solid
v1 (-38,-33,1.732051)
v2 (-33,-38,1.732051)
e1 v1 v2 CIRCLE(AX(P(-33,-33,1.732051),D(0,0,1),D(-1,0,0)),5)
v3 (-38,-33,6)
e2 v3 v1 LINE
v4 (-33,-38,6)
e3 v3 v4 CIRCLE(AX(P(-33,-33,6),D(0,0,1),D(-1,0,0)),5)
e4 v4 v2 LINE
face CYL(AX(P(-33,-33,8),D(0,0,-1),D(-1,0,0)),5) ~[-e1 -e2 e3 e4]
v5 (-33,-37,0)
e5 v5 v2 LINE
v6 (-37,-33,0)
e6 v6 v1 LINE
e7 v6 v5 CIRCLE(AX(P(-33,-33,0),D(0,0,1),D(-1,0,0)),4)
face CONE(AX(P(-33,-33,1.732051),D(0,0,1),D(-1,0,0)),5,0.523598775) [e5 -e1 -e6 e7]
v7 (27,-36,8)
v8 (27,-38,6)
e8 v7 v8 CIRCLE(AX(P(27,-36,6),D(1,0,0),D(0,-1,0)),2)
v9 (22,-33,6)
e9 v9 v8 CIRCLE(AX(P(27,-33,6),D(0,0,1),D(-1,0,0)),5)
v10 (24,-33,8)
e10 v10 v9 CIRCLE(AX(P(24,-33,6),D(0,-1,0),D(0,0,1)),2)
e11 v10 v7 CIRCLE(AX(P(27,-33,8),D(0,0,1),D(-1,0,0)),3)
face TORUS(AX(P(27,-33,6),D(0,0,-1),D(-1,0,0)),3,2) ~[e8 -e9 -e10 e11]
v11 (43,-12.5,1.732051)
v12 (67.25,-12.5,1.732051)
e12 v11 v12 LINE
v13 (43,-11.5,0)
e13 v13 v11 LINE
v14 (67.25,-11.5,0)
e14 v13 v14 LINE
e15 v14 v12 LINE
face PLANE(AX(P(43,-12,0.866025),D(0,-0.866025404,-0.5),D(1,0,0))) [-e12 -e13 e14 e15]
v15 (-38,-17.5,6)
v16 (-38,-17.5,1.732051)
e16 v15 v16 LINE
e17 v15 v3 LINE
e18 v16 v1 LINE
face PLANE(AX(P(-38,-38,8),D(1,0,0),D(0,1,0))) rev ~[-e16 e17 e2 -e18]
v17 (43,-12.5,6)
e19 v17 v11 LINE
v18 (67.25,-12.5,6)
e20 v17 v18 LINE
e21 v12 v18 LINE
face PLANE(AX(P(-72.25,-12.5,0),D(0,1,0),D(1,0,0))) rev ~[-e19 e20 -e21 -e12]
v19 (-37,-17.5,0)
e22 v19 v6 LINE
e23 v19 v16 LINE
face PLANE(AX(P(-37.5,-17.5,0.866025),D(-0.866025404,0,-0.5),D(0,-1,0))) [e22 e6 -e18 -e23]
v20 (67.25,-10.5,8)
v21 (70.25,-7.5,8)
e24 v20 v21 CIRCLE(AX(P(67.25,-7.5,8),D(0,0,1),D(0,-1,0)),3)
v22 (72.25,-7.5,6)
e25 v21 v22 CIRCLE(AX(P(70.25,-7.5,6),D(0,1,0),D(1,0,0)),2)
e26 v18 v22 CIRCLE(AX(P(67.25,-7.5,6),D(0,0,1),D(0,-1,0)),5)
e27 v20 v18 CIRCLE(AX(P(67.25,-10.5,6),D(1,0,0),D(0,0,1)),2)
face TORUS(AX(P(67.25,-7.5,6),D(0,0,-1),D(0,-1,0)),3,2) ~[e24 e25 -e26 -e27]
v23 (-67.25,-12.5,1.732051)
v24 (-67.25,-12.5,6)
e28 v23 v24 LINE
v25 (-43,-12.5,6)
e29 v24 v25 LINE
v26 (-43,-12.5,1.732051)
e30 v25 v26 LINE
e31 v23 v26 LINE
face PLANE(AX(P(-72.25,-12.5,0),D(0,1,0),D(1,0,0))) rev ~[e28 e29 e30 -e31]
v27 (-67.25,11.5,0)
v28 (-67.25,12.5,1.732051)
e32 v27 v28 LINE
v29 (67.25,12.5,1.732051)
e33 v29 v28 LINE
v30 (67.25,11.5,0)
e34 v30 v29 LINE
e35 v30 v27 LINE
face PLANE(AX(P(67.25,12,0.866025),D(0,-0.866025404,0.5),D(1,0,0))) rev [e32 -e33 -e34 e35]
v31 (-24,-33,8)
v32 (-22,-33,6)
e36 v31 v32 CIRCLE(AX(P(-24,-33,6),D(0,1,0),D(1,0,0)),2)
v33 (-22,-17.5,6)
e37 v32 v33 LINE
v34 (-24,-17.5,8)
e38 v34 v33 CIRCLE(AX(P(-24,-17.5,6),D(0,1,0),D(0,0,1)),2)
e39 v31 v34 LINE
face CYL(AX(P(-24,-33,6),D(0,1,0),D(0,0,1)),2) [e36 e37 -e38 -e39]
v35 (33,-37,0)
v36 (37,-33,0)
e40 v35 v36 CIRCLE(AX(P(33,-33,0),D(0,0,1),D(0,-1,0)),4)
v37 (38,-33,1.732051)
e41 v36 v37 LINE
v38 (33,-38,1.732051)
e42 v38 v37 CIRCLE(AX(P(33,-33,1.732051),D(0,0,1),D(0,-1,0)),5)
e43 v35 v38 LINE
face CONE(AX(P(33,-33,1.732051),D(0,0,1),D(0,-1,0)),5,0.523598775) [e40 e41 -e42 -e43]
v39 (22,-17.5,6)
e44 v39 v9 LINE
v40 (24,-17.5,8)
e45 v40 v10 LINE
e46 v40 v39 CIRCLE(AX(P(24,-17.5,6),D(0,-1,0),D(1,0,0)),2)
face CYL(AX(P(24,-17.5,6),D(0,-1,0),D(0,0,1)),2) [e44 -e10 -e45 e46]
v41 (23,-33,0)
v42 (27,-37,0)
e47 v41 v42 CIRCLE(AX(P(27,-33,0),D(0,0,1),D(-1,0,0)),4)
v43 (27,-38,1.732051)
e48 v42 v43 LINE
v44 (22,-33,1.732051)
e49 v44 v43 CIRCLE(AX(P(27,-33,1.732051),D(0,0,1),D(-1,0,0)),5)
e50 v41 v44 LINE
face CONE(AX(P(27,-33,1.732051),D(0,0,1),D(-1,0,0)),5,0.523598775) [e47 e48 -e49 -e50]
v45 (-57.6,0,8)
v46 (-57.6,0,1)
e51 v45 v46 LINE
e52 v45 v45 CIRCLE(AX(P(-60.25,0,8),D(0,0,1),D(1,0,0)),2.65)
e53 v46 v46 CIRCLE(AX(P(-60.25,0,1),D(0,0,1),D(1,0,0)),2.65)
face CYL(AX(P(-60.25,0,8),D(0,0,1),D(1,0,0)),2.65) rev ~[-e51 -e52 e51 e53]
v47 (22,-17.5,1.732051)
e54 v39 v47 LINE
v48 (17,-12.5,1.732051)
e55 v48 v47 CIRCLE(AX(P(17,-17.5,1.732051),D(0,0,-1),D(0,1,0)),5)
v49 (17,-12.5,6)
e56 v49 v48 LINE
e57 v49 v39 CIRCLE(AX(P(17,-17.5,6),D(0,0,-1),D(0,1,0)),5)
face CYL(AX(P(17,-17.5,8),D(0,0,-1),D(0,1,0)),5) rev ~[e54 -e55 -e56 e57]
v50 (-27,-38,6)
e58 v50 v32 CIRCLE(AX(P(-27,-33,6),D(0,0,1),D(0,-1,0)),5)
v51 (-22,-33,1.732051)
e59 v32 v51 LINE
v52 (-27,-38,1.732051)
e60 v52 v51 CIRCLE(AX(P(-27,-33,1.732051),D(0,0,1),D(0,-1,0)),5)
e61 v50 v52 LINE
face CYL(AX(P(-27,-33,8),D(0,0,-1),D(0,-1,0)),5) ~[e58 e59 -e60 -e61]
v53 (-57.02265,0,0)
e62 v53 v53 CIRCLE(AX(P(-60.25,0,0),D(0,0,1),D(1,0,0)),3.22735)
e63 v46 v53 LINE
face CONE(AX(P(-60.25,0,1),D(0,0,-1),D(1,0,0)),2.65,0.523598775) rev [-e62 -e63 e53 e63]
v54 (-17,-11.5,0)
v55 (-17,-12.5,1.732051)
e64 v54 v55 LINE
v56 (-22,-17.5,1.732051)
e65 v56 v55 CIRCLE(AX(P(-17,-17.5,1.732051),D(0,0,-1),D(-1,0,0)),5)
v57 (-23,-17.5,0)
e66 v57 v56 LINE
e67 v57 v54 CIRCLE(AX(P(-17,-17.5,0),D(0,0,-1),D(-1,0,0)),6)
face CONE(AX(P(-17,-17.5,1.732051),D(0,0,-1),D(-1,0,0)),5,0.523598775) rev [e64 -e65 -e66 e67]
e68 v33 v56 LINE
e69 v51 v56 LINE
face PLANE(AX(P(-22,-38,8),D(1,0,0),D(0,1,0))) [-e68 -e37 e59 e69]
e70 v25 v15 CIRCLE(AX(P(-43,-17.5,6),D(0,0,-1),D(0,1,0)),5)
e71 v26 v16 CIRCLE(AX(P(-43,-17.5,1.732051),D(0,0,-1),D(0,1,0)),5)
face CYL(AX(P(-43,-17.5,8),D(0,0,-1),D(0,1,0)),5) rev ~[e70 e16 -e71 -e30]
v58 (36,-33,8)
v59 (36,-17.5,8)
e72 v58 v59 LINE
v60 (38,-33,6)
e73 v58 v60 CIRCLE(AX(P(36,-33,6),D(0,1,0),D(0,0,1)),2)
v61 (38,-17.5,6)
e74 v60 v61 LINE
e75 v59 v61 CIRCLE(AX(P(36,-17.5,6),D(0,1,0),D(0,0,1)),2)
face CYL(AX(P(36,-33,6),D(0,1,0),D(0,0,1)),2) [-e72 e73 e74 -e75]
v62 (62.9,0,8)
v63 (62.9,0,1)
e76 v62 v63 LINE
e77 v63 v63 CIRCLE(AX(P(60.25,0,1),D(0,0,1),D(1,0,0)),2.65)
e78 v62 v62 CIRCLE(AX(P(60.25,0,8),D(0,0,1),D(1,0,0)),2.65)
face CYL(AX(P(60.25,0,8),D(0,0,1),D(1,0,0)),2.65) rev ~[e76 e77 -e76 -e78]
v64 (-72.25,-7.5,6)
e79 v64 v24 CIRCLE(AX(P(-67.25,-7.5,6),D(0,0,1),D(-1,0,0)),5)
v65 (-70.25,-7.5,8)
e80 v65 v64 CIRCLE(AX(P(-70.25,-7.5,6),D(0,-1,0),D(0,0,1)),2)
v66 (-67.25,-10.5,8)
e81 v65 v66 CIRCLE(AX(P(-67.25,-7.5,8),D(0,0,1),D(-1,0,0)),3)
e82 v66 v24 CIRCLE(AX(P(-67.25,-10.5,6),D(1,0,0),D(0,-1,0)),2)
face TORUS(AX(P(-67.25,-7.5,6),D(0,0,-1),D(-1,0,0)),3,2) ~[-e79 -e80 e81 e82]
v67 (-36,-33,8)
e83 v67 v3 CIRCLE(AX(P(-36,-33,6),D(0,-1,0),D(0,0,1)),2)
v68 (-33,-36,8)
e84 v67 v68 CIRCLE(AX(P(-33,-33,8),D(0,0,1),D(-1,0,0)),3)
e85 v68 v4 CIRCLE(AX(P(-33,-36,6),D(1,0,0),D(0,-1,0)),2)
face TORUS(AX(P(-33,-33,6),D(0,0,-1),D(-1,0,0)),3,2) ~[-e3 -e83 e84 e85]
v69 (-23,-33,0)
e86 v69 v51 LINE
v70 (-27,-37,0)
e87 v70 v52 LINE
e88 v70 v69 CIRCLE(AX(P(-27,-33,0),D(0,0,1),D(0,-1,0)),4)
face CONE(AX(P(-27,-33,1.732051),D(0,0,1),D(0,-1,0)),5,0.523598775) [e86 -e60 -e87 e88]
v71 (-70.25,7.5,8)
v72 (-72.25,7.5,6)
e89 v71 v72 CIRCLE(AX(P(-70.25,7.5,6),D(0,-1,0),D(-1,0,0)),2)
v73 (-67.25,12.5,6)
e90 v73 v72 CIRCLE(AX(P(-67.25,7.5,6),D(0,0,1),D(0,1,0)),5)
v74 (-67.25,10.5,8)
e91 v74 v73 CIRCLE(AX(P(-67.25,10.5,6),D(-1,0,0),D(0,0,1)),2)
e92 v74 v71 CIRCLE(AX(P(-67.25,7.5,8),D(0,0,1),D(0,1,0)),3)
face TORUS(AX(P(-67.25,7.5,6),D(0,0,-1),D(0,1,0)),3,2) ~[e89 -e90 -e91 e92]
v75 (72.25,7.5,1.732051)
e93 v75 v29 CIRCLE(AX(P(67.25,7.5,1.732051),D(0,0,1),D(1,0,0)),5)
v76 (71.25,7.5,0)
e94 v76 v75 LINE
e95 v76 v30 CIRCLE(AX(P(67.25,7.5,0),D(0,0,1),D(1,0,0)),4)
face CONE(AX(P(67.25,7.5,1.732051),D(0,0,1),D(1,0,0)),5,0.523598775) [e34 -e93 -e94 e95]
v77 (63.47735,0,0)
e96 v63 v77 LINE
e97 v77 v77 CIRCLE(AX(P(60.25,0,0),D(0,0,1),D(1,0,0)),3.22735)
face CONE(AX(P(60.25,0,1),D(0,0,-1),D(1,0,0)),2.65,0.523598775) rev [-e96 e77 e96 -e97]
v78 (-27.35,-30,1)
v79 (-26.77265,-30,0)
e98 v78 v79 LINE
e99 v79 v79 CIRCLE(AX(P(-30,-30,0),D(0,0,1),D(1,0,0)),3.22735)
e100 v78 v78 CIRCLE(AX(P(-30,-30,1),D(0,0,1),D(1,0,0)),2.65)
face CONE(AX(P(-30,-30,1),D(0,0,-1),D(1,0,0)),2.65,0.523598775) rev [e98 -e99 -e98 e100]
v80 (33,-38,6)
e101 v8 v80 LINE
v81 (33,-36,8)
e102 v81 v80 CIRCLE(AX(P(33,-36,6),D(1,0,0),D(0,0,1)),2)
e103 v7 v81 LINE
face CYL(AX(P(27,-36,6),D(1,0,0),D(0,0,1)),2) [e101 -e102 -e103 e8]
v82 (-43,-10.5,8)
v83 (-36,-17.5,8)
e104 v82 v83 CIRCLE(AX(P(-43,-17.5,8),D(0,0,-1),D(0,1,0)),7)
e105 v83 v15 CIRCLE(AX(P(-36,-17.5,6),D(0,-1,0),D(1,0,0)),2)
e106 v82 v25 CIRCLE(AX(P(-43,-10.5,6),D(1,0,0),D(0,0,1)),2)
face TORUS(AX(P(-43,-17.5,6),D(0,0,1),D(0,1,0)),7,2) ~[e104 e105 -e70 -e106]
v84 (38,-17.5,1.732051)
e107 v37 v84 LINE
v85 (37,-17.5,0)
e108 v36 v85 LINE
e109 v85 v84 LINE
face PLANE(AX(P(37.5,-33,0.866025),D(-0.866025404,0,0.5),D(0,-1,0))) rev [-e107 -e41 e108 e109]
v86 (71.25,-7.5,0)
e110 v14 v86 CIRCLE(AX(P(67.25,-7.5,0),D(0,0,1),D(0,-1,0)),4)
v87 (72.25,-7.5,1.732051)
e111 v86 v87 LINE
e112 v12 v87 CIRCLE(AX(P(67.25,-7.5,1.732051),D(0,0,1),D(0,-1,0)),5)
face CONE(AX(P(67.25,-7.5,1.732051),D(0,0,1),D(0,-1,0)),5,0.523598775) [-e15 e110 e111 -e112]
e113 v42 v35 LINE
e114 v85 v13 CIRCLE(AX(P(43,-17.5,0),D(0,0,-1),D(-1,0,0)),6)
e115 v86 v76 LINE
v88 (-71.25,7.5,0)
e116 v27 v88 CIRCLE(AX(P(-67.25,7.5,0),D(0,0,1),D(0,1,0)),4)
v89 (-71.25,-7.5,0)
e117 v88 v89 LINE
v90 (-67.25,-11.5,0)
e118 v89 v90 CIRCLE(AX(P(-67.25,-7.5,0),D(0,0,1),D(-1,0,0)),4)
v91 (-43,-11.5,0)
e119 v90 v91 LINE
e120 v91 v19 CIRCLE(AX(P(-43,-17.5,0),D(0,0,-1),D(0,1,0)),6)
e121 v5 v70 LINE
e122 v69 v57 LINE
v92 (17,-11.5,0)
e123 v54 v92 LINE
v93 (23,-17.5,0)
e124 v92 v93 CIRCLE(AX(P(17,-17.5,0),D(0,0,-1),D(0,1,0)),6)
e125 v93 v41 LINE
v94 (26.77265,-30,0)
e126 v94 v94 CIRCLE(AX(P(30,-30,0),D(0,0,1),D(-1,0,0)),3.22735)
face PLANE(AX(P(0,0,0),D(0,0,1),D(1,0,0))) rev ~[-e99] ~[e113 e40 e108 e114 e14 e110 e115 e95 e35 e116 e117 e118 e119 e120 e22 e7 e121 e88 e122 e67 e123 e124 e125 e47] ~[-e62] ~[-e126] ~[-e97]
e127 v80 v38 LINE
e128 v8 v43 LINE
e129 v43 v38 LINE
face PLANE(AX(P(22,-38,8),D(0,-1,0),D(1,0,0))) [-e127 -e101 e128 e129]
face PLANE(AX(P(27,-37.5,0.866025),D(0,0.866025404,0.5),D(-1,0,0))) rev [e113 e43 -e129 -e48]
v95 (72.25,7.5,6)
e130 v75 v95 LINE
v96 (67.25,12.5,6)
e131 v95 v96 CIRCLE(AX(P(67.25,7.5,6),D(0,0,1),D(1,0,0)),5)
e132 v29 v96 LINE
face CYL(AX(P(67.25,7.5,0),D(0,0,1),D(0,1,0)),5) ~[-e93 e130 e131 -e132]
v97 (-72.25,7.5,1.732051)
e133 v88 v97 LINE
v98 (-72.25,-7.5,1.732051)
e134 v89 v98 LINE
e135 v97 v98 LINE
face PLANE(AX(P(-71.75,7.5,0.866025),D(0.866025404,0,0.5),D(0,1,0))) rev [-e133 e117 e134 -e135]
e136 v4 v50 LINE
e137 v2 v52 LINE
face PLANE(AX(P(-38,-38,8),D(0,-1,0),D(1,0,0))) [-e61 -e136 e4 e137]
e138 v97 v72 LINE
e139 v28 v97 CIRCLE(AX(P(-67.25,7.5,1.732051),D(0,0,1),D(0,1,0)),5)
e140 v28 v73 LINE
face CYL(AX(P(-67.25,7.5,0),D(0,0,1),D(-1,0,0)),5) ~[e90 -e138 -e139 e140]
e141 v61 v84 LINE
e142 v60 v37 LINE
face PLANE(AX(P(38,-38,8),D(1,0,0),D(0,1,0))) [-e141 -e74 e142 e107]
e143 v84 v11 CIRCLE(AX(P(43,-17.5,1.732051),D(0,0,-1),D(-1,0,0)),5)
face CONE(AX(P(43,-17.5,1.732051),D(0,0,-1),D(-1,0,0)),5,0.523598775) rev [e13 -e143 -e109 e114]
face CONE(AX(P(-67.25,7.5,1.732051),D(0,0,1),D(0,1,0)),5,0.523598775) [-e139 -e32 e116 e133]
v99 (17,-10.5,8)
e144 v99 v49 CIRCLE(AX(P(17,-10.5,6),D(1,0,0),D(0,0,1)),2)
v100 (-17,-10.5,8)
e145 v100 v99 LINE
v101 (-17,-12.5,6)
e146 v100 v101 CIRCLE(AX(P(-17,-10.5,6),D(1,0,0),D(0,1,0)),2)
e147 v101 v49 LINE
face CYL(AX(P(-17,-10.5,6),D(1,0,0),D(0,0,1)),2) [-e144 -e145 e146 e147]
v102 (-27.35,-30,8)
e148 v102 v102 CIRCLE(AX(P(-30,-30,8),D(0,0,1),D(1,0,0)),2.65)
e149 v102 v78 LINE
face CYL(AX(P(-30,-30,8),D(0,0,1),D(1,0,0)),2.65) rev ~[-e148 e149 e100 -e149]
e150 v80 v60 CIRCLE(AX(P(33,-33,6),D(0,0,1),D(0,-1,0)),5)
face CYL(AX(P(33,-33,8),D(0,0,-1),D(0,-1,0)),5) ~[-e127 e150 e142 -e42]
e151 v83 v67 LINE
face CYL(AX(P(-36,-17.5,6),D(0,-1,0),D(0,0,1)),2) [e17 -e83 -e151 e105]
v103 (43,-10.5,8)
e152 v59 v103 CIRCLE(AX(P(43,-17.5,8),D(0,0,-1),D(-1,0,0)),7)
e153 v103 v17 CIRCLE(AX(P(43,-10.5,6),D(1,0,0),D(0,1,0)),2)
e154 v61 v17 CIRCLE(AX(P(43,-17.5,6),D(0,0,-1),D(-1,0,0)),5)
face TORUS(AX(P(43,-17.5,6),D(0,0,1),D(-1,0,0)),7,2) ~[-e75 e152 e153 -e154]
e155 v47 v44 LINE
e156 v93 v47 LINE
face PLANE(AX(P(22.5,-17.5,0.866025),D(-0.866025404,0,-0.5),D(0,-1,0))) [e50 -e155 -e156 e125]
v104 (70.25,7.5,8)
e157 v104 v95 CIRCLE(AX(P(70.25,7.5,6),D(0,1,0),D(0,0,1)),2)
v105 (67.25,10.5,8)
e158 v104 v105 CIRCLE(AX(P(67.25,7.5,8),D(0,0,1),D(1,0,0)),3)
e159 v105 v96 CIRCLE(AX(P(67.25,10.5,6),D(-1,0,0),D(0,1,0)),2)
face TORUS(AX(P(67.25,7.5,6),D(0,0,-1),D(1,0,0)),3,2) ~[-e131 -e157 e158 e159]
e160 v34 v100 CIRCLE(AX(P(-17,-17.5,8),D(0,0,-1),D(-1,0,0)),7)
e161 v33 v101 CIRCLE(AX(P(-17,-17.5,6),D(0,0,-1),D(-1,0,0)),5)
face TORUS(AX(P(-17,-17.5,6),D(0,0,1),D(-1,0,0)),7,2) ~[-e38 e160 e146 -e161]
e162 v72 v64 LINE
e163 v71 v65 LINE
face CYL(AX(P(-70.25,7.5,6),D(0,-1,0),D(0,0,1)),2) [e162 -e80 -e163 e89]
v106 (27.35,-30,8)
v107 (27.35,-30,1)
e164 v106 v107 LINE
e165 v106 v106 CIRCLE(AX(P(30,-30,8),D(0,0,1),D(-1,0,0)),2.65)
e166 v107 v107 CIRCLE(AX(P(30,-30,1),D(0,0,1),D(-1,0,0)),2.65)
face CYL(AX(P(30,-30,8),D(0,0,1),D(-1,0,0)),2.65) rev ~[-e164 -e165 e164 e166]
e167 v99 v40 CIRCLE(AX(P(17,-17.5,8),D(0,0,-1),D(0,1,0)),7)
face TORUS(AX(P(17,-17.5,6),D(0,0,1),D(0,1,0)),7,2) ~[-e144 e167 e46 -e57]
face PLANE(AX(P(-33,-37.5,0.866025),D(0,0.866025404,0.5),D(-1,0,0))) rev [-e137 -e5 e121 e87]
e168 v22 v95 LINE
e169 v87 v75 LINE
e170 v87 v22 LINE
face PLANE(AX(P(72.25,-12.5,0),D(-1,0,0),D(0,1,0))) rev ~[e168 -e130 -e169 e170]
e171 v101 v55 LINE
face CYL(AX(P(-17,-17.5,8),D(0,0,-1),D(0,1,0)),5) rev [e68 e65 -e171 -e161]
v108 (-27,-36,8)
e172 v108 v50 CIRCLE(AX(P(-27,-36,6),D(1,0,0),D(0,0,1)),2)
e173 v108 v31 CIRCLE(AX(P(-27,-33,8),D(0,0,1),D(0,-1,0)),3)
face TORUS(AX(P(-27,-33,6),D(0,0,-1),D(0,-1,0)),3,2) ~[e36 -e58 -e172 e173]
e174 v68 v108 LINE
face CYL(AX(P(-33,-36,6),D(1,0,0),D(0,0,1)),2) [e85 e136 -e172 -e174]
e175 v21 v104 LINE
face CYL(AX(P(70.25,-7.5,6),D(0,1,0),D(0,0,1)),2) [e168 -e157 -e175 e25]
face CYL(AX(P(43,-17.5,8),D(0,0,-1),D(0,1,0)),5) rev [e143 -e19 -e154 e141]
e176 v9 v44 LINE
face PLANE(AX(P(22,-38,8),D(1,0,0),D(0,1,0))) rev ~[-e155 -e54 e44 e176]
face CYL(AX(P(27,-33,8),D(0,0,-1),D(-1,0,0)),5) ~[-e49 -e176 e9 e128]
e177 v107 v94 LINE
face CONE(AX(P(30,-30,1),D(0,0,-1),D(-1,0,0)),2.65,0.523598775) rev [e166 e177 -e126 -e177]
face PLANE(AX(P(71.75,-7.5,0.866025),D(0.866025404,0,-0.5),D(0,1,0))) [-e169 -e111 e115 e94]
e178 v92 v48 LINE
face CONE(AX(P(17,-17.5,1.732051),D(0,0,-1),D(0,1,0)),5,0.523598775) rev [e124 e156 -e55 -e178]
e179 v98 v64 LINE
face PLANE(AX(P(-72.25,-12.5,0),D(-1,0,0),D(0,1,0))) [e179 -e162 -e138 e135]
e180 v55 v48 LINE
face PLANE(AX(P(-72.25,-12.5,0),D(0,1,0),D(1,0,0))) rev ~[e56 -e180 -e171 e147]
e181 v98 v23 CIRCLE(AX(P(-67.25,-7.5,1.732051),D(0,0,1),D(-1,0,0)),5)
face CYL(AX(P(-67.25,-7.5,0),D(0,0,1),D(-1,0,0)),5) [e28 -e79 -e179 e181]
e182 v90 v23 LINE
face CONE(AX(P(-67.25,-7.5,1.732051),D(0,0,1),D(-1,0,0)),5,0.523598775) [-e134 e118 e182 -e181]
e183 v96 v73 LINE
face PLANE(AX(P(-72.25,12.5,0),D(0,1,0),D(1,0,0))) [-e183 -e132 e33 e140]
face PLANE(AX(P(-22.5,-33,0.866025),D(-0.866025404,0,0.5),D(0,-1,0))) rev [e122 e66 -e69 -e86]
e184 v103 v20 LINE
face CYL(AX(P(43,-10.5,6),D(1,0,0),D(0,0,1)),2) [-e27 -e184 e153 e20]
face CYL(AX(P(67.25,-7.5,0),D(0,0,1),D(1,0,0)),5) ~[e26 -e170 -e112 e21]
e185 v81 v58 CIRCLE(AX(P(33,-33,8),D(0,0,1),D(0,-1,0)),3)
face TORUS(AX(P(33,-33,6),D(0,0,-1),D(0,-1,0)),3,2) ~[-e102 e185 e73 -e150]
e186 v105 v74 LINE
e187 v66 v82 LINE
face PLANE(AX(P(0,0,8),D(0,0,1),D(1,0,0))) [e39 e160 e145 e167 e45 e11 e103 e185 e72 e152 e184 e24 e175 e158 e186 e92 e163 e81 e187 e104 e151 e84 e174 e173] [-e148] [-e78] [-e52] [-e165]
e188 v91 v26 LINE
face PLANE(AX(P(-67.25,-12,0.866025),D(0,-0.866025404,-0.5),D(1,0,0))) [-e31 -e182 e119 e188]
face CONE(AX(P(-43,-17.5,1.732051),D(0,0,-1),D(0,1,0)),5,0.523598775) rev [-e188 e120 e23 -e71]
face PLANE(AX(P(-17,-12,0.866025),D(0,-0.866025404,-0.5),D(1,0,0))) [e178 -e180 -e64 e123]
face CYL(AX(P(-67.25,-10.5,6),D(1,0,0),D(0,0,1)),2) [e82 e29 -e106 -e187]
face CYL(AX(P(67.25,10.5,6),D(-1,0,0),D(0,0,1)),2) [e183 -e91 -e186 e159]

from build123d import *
from OCP.BRepFilletAPI import BRepFilletAPI_MakeChamfer

# Parameters (mm, degrees)
SKETCH2_W           = 144.5
SKETCH2_H           = 25
BOSS_EXTRUDE1_DEPTH = 8
SKETCH3_R           = 2.65
CUT_EXTRUDE1_DEPTH  = 74.758474089
SKETCH5_W           = 16
SKETCH5_H           = 25.5
SKETCH5_R           = 2.65
BOSS_EXTRUDE2_DEPTH = 8
FILLET1_R           = 5
FILLET2_R           = 2
CHAMFER1_SIZE       = 1
CHAMFER1_SIZE2      = 1.732050808
CHAMFER2_SIZE       = 1
CHAMFER2_SIZE2      = 0.577350269


with BuildPart() as part:
    # Sketch2 → Boss-Extrude1 (new body)
    with BuildSketch(Plane.XY):
        Rectangle(SKETCH2_W, SKETCH2_H)
    extrude(amount=BOSS_EXTRUDE1_DEPTH)

    # Sketch3 → Cut-Extrude1 (cut, through all)
    with BuildSketch(Plane.XY.offset(8)):
        with Locations((-60.25, 0)):
            Circle(SKETCH3_R)
        with Locations((60.25, 0)):
            Circle(SKETCH3_R)
    extrude(amount=-CUT_EXTRUDE1_DEPTH, mode=Mode.SUBTRACT)

    # Sketch5 → Boss-Extrude2 (add)
    # profile 1 of 2: a face of its own
    with BuildSketch(Plane.XY.offset(8)):
        with Locations((-30, -25.25)):
            Rectangle(SKETCH5_W, SKETCH5_H)
        with Locations((-30, -30)):
            Circle(SKETCH5_R, mode=Mode.SUBTRACT)
    # profile 2 of 2: a face of its own
    with BuildSketch(Plane.XY.offset(8)):
        with Locations((30, -25.25)):
            Rectangle(SKETCH5_W, SKETCH5_H)
        with Locations(Location((30, -30, 0), (0, 0, 180))):
            Circle(SKETCH5_R, mode=Mode.SUBTRACT)
    extrude(amount=-BOSS_EXTRUDE2_DEPTH)

    # Fillet1
    fillet1_edges = [part.edges().sort_by_distance(p)[0] for p in [
        (-38, -38, 4),
        (-38, -12.5, 4),
        (-22, -12.5, 4),
        (-22, -38, 4),
        (38, -12.5, 4),
        (38, -38, 4),
        (22, -38, 4),
        (22, -12.5, 4),
        (72.25, -12.5, 4),
        (-72.25, -12.5, 4),
        (-72.25, 12.5, 4),
        (72.25, 12.5, 4),
    ]]
    fillet(fillet1_edges, radius=FILLET1_R)

    # Fillet2
    fillet2_edges = [part.edges().sort_by_distance(p)[0] for p in [
        (38, -25.25, 8),
        (55.125, -12.5, 8),
        (30, -38, 8),
        (72.25, 0, 8),
        (0, 12.5, 8),
        (-72.25, 0, 8),
        (-55.125, -12.5, 8),
        (-38, -25.25, 8),
        (-30, -38, 8),
        (-22, -25.25, 8),
        (0, -12.5, 8),
        (22, -25.25, 8),
        (70.785533906, 11.035533906, 8),
        (70.785533906, -11.035533906, 8),
        (-70.785533906, 11.035533906, 8),
        (-70.785533906, -11.035533906, 8),
        (-23.464466094, -36.535533906, 8),
        (-36.535533906, -36.535533906, 8),
        (23.464466094, -36.535533906, 8),
        (36.535533906, -36.535533906, 8),
        (39.464466094, -13.964466094, 8),
        (20.535533906, -13.964466094, 8),
        (-39.464466094, -13.964466094, 8),
        (-20.535533906, -13.964466094, 8),
    ]]
    fillet(fillet2_edges, radius=FILLET2_R)

    # Chamfer1
    chamfer1_edges = [part.edges().sort_by_distance(p)[0] for p in [
        (38, -25.25, 0),
        (55.125, -12.5, 0),
        (30, -38, 0),
        (72.25, 0, 0),
        (22, -25.25, 0),
        (0, -12.5, 0),
        (-22, -25.25, 0),
        (-30, -38, 0),
        (-38, -25.25, 0),
        (-55.125, -12.5, 0),
        (-72.25, 0, 0),
        (0, 12.5, 0),
        (70.785533906, 11.035533906, 0),
        (70.785533906, -11.035533906, 0),
        (-70.785533906, 11.035533906, 0),
        (-70.785533906, -11.035533906, 0),
        (-23.464466094, -36.535533906, 0),
        (-36.535533906, -36.535533906, 0),
        (23.464466094, -36.535533906, 0),
        (36.535533906, -36.535533906, 0),
        (39.464466094, -13.964466094, 0),
        (20.535533906, -13.964466094, 0),
        (-39.464466094, -13.964466094, 0),
        (-20.535533906, -13.964466094, 0),
    ]]
    chamfer1_side = [part.faces().sort_by_distance(p)[0] for p in [
        (0, -4.348667021, 0),
    ]]
    chamfer(chamfer1_edges, length=CHAMFER1_SIZE, length2=CHAMFER1_SIZE2, reference=chamfer1_side[0])

    # Chamfer2: one chamfer whose edges measure the first distance from different faces: ONE call of the kernel's chamfer builder (chamfer() names one face for all edges)
    chamfer2_edges_1 = [part.edges().sort_by_distance(p)[0] for p in [
        (-62.9, 0, 0),
    ]]
    chamfer2_side_1 = [part.faces().sort_by_distance(p)[0] for p in [
        (-62.9, 0, 4),
    ]]
    chamfer2_edges_2 = [part.edges().sort_by_distance(p)[0] for p in [
        (57.6, 0, 0),
    ]]
    chamfer2_side_2 = [part.faces().sort_by_distance(p)[0] for p in [
        (57.6, 0, 4),
    ]]
    chamfer2_edges_3 = [part.edges().sort_by_distance(p)[0] for p in [
        (-32.65, -30, 0),
    ]]
    chamfer2_side_3 = [part.faces().sort_by_distance(p)[0] for p in [
        (-32.65, -30, 4),
    ]]
    chamfer2_edges_4 = [part.edges().sort_by_distance(p)[0] for p in [
        (32.65, -30, 0),
    ]]
    chamfer2_side_4 = [part.faces().sort_by_distance(p)[0] for p in [
        (32.65, -30, 4),
    ]]
    chamfer2 = BRepFilletAPI_MakeChamfer(part.part.solid().wrapped)
    for e in chamfer2_edges_1:
        chamfer2.Add(CHAMFER2_SIZE, CHAMFER2_SIZE2, e.wrapped, chamfer2_side_1[0].wrapped)  # the first distance lies on this face
    for e in chamfer2_edges_2:
        chamfer2.Add(CHAMFER2_SIZE, CHAMFER2_SIZE2, e.wrapped, chamfer2_side_2[0].wrapped)  # the first distance lies on this face
    for e in chamfer2_edges_3:
        chamfer2.Add(CHAMFER2_SIZE, CHAMFER2_SIZE2, e.wrapped, chamfer2_side_3[0].wrapped)  # the first distance lies on this face
    for e in chamfer2_edges_4:
        chamfer2.Add(CHAMFER2_SIZE, CHAMFER2_SIZE2, e.wrapped, chamfer2_side_4[0].wrapped)  # the first distance lies on this face
    add(Compound.cast(chamfer2.Shape()), mode=Mode.REPLACE)


solid = part.part
